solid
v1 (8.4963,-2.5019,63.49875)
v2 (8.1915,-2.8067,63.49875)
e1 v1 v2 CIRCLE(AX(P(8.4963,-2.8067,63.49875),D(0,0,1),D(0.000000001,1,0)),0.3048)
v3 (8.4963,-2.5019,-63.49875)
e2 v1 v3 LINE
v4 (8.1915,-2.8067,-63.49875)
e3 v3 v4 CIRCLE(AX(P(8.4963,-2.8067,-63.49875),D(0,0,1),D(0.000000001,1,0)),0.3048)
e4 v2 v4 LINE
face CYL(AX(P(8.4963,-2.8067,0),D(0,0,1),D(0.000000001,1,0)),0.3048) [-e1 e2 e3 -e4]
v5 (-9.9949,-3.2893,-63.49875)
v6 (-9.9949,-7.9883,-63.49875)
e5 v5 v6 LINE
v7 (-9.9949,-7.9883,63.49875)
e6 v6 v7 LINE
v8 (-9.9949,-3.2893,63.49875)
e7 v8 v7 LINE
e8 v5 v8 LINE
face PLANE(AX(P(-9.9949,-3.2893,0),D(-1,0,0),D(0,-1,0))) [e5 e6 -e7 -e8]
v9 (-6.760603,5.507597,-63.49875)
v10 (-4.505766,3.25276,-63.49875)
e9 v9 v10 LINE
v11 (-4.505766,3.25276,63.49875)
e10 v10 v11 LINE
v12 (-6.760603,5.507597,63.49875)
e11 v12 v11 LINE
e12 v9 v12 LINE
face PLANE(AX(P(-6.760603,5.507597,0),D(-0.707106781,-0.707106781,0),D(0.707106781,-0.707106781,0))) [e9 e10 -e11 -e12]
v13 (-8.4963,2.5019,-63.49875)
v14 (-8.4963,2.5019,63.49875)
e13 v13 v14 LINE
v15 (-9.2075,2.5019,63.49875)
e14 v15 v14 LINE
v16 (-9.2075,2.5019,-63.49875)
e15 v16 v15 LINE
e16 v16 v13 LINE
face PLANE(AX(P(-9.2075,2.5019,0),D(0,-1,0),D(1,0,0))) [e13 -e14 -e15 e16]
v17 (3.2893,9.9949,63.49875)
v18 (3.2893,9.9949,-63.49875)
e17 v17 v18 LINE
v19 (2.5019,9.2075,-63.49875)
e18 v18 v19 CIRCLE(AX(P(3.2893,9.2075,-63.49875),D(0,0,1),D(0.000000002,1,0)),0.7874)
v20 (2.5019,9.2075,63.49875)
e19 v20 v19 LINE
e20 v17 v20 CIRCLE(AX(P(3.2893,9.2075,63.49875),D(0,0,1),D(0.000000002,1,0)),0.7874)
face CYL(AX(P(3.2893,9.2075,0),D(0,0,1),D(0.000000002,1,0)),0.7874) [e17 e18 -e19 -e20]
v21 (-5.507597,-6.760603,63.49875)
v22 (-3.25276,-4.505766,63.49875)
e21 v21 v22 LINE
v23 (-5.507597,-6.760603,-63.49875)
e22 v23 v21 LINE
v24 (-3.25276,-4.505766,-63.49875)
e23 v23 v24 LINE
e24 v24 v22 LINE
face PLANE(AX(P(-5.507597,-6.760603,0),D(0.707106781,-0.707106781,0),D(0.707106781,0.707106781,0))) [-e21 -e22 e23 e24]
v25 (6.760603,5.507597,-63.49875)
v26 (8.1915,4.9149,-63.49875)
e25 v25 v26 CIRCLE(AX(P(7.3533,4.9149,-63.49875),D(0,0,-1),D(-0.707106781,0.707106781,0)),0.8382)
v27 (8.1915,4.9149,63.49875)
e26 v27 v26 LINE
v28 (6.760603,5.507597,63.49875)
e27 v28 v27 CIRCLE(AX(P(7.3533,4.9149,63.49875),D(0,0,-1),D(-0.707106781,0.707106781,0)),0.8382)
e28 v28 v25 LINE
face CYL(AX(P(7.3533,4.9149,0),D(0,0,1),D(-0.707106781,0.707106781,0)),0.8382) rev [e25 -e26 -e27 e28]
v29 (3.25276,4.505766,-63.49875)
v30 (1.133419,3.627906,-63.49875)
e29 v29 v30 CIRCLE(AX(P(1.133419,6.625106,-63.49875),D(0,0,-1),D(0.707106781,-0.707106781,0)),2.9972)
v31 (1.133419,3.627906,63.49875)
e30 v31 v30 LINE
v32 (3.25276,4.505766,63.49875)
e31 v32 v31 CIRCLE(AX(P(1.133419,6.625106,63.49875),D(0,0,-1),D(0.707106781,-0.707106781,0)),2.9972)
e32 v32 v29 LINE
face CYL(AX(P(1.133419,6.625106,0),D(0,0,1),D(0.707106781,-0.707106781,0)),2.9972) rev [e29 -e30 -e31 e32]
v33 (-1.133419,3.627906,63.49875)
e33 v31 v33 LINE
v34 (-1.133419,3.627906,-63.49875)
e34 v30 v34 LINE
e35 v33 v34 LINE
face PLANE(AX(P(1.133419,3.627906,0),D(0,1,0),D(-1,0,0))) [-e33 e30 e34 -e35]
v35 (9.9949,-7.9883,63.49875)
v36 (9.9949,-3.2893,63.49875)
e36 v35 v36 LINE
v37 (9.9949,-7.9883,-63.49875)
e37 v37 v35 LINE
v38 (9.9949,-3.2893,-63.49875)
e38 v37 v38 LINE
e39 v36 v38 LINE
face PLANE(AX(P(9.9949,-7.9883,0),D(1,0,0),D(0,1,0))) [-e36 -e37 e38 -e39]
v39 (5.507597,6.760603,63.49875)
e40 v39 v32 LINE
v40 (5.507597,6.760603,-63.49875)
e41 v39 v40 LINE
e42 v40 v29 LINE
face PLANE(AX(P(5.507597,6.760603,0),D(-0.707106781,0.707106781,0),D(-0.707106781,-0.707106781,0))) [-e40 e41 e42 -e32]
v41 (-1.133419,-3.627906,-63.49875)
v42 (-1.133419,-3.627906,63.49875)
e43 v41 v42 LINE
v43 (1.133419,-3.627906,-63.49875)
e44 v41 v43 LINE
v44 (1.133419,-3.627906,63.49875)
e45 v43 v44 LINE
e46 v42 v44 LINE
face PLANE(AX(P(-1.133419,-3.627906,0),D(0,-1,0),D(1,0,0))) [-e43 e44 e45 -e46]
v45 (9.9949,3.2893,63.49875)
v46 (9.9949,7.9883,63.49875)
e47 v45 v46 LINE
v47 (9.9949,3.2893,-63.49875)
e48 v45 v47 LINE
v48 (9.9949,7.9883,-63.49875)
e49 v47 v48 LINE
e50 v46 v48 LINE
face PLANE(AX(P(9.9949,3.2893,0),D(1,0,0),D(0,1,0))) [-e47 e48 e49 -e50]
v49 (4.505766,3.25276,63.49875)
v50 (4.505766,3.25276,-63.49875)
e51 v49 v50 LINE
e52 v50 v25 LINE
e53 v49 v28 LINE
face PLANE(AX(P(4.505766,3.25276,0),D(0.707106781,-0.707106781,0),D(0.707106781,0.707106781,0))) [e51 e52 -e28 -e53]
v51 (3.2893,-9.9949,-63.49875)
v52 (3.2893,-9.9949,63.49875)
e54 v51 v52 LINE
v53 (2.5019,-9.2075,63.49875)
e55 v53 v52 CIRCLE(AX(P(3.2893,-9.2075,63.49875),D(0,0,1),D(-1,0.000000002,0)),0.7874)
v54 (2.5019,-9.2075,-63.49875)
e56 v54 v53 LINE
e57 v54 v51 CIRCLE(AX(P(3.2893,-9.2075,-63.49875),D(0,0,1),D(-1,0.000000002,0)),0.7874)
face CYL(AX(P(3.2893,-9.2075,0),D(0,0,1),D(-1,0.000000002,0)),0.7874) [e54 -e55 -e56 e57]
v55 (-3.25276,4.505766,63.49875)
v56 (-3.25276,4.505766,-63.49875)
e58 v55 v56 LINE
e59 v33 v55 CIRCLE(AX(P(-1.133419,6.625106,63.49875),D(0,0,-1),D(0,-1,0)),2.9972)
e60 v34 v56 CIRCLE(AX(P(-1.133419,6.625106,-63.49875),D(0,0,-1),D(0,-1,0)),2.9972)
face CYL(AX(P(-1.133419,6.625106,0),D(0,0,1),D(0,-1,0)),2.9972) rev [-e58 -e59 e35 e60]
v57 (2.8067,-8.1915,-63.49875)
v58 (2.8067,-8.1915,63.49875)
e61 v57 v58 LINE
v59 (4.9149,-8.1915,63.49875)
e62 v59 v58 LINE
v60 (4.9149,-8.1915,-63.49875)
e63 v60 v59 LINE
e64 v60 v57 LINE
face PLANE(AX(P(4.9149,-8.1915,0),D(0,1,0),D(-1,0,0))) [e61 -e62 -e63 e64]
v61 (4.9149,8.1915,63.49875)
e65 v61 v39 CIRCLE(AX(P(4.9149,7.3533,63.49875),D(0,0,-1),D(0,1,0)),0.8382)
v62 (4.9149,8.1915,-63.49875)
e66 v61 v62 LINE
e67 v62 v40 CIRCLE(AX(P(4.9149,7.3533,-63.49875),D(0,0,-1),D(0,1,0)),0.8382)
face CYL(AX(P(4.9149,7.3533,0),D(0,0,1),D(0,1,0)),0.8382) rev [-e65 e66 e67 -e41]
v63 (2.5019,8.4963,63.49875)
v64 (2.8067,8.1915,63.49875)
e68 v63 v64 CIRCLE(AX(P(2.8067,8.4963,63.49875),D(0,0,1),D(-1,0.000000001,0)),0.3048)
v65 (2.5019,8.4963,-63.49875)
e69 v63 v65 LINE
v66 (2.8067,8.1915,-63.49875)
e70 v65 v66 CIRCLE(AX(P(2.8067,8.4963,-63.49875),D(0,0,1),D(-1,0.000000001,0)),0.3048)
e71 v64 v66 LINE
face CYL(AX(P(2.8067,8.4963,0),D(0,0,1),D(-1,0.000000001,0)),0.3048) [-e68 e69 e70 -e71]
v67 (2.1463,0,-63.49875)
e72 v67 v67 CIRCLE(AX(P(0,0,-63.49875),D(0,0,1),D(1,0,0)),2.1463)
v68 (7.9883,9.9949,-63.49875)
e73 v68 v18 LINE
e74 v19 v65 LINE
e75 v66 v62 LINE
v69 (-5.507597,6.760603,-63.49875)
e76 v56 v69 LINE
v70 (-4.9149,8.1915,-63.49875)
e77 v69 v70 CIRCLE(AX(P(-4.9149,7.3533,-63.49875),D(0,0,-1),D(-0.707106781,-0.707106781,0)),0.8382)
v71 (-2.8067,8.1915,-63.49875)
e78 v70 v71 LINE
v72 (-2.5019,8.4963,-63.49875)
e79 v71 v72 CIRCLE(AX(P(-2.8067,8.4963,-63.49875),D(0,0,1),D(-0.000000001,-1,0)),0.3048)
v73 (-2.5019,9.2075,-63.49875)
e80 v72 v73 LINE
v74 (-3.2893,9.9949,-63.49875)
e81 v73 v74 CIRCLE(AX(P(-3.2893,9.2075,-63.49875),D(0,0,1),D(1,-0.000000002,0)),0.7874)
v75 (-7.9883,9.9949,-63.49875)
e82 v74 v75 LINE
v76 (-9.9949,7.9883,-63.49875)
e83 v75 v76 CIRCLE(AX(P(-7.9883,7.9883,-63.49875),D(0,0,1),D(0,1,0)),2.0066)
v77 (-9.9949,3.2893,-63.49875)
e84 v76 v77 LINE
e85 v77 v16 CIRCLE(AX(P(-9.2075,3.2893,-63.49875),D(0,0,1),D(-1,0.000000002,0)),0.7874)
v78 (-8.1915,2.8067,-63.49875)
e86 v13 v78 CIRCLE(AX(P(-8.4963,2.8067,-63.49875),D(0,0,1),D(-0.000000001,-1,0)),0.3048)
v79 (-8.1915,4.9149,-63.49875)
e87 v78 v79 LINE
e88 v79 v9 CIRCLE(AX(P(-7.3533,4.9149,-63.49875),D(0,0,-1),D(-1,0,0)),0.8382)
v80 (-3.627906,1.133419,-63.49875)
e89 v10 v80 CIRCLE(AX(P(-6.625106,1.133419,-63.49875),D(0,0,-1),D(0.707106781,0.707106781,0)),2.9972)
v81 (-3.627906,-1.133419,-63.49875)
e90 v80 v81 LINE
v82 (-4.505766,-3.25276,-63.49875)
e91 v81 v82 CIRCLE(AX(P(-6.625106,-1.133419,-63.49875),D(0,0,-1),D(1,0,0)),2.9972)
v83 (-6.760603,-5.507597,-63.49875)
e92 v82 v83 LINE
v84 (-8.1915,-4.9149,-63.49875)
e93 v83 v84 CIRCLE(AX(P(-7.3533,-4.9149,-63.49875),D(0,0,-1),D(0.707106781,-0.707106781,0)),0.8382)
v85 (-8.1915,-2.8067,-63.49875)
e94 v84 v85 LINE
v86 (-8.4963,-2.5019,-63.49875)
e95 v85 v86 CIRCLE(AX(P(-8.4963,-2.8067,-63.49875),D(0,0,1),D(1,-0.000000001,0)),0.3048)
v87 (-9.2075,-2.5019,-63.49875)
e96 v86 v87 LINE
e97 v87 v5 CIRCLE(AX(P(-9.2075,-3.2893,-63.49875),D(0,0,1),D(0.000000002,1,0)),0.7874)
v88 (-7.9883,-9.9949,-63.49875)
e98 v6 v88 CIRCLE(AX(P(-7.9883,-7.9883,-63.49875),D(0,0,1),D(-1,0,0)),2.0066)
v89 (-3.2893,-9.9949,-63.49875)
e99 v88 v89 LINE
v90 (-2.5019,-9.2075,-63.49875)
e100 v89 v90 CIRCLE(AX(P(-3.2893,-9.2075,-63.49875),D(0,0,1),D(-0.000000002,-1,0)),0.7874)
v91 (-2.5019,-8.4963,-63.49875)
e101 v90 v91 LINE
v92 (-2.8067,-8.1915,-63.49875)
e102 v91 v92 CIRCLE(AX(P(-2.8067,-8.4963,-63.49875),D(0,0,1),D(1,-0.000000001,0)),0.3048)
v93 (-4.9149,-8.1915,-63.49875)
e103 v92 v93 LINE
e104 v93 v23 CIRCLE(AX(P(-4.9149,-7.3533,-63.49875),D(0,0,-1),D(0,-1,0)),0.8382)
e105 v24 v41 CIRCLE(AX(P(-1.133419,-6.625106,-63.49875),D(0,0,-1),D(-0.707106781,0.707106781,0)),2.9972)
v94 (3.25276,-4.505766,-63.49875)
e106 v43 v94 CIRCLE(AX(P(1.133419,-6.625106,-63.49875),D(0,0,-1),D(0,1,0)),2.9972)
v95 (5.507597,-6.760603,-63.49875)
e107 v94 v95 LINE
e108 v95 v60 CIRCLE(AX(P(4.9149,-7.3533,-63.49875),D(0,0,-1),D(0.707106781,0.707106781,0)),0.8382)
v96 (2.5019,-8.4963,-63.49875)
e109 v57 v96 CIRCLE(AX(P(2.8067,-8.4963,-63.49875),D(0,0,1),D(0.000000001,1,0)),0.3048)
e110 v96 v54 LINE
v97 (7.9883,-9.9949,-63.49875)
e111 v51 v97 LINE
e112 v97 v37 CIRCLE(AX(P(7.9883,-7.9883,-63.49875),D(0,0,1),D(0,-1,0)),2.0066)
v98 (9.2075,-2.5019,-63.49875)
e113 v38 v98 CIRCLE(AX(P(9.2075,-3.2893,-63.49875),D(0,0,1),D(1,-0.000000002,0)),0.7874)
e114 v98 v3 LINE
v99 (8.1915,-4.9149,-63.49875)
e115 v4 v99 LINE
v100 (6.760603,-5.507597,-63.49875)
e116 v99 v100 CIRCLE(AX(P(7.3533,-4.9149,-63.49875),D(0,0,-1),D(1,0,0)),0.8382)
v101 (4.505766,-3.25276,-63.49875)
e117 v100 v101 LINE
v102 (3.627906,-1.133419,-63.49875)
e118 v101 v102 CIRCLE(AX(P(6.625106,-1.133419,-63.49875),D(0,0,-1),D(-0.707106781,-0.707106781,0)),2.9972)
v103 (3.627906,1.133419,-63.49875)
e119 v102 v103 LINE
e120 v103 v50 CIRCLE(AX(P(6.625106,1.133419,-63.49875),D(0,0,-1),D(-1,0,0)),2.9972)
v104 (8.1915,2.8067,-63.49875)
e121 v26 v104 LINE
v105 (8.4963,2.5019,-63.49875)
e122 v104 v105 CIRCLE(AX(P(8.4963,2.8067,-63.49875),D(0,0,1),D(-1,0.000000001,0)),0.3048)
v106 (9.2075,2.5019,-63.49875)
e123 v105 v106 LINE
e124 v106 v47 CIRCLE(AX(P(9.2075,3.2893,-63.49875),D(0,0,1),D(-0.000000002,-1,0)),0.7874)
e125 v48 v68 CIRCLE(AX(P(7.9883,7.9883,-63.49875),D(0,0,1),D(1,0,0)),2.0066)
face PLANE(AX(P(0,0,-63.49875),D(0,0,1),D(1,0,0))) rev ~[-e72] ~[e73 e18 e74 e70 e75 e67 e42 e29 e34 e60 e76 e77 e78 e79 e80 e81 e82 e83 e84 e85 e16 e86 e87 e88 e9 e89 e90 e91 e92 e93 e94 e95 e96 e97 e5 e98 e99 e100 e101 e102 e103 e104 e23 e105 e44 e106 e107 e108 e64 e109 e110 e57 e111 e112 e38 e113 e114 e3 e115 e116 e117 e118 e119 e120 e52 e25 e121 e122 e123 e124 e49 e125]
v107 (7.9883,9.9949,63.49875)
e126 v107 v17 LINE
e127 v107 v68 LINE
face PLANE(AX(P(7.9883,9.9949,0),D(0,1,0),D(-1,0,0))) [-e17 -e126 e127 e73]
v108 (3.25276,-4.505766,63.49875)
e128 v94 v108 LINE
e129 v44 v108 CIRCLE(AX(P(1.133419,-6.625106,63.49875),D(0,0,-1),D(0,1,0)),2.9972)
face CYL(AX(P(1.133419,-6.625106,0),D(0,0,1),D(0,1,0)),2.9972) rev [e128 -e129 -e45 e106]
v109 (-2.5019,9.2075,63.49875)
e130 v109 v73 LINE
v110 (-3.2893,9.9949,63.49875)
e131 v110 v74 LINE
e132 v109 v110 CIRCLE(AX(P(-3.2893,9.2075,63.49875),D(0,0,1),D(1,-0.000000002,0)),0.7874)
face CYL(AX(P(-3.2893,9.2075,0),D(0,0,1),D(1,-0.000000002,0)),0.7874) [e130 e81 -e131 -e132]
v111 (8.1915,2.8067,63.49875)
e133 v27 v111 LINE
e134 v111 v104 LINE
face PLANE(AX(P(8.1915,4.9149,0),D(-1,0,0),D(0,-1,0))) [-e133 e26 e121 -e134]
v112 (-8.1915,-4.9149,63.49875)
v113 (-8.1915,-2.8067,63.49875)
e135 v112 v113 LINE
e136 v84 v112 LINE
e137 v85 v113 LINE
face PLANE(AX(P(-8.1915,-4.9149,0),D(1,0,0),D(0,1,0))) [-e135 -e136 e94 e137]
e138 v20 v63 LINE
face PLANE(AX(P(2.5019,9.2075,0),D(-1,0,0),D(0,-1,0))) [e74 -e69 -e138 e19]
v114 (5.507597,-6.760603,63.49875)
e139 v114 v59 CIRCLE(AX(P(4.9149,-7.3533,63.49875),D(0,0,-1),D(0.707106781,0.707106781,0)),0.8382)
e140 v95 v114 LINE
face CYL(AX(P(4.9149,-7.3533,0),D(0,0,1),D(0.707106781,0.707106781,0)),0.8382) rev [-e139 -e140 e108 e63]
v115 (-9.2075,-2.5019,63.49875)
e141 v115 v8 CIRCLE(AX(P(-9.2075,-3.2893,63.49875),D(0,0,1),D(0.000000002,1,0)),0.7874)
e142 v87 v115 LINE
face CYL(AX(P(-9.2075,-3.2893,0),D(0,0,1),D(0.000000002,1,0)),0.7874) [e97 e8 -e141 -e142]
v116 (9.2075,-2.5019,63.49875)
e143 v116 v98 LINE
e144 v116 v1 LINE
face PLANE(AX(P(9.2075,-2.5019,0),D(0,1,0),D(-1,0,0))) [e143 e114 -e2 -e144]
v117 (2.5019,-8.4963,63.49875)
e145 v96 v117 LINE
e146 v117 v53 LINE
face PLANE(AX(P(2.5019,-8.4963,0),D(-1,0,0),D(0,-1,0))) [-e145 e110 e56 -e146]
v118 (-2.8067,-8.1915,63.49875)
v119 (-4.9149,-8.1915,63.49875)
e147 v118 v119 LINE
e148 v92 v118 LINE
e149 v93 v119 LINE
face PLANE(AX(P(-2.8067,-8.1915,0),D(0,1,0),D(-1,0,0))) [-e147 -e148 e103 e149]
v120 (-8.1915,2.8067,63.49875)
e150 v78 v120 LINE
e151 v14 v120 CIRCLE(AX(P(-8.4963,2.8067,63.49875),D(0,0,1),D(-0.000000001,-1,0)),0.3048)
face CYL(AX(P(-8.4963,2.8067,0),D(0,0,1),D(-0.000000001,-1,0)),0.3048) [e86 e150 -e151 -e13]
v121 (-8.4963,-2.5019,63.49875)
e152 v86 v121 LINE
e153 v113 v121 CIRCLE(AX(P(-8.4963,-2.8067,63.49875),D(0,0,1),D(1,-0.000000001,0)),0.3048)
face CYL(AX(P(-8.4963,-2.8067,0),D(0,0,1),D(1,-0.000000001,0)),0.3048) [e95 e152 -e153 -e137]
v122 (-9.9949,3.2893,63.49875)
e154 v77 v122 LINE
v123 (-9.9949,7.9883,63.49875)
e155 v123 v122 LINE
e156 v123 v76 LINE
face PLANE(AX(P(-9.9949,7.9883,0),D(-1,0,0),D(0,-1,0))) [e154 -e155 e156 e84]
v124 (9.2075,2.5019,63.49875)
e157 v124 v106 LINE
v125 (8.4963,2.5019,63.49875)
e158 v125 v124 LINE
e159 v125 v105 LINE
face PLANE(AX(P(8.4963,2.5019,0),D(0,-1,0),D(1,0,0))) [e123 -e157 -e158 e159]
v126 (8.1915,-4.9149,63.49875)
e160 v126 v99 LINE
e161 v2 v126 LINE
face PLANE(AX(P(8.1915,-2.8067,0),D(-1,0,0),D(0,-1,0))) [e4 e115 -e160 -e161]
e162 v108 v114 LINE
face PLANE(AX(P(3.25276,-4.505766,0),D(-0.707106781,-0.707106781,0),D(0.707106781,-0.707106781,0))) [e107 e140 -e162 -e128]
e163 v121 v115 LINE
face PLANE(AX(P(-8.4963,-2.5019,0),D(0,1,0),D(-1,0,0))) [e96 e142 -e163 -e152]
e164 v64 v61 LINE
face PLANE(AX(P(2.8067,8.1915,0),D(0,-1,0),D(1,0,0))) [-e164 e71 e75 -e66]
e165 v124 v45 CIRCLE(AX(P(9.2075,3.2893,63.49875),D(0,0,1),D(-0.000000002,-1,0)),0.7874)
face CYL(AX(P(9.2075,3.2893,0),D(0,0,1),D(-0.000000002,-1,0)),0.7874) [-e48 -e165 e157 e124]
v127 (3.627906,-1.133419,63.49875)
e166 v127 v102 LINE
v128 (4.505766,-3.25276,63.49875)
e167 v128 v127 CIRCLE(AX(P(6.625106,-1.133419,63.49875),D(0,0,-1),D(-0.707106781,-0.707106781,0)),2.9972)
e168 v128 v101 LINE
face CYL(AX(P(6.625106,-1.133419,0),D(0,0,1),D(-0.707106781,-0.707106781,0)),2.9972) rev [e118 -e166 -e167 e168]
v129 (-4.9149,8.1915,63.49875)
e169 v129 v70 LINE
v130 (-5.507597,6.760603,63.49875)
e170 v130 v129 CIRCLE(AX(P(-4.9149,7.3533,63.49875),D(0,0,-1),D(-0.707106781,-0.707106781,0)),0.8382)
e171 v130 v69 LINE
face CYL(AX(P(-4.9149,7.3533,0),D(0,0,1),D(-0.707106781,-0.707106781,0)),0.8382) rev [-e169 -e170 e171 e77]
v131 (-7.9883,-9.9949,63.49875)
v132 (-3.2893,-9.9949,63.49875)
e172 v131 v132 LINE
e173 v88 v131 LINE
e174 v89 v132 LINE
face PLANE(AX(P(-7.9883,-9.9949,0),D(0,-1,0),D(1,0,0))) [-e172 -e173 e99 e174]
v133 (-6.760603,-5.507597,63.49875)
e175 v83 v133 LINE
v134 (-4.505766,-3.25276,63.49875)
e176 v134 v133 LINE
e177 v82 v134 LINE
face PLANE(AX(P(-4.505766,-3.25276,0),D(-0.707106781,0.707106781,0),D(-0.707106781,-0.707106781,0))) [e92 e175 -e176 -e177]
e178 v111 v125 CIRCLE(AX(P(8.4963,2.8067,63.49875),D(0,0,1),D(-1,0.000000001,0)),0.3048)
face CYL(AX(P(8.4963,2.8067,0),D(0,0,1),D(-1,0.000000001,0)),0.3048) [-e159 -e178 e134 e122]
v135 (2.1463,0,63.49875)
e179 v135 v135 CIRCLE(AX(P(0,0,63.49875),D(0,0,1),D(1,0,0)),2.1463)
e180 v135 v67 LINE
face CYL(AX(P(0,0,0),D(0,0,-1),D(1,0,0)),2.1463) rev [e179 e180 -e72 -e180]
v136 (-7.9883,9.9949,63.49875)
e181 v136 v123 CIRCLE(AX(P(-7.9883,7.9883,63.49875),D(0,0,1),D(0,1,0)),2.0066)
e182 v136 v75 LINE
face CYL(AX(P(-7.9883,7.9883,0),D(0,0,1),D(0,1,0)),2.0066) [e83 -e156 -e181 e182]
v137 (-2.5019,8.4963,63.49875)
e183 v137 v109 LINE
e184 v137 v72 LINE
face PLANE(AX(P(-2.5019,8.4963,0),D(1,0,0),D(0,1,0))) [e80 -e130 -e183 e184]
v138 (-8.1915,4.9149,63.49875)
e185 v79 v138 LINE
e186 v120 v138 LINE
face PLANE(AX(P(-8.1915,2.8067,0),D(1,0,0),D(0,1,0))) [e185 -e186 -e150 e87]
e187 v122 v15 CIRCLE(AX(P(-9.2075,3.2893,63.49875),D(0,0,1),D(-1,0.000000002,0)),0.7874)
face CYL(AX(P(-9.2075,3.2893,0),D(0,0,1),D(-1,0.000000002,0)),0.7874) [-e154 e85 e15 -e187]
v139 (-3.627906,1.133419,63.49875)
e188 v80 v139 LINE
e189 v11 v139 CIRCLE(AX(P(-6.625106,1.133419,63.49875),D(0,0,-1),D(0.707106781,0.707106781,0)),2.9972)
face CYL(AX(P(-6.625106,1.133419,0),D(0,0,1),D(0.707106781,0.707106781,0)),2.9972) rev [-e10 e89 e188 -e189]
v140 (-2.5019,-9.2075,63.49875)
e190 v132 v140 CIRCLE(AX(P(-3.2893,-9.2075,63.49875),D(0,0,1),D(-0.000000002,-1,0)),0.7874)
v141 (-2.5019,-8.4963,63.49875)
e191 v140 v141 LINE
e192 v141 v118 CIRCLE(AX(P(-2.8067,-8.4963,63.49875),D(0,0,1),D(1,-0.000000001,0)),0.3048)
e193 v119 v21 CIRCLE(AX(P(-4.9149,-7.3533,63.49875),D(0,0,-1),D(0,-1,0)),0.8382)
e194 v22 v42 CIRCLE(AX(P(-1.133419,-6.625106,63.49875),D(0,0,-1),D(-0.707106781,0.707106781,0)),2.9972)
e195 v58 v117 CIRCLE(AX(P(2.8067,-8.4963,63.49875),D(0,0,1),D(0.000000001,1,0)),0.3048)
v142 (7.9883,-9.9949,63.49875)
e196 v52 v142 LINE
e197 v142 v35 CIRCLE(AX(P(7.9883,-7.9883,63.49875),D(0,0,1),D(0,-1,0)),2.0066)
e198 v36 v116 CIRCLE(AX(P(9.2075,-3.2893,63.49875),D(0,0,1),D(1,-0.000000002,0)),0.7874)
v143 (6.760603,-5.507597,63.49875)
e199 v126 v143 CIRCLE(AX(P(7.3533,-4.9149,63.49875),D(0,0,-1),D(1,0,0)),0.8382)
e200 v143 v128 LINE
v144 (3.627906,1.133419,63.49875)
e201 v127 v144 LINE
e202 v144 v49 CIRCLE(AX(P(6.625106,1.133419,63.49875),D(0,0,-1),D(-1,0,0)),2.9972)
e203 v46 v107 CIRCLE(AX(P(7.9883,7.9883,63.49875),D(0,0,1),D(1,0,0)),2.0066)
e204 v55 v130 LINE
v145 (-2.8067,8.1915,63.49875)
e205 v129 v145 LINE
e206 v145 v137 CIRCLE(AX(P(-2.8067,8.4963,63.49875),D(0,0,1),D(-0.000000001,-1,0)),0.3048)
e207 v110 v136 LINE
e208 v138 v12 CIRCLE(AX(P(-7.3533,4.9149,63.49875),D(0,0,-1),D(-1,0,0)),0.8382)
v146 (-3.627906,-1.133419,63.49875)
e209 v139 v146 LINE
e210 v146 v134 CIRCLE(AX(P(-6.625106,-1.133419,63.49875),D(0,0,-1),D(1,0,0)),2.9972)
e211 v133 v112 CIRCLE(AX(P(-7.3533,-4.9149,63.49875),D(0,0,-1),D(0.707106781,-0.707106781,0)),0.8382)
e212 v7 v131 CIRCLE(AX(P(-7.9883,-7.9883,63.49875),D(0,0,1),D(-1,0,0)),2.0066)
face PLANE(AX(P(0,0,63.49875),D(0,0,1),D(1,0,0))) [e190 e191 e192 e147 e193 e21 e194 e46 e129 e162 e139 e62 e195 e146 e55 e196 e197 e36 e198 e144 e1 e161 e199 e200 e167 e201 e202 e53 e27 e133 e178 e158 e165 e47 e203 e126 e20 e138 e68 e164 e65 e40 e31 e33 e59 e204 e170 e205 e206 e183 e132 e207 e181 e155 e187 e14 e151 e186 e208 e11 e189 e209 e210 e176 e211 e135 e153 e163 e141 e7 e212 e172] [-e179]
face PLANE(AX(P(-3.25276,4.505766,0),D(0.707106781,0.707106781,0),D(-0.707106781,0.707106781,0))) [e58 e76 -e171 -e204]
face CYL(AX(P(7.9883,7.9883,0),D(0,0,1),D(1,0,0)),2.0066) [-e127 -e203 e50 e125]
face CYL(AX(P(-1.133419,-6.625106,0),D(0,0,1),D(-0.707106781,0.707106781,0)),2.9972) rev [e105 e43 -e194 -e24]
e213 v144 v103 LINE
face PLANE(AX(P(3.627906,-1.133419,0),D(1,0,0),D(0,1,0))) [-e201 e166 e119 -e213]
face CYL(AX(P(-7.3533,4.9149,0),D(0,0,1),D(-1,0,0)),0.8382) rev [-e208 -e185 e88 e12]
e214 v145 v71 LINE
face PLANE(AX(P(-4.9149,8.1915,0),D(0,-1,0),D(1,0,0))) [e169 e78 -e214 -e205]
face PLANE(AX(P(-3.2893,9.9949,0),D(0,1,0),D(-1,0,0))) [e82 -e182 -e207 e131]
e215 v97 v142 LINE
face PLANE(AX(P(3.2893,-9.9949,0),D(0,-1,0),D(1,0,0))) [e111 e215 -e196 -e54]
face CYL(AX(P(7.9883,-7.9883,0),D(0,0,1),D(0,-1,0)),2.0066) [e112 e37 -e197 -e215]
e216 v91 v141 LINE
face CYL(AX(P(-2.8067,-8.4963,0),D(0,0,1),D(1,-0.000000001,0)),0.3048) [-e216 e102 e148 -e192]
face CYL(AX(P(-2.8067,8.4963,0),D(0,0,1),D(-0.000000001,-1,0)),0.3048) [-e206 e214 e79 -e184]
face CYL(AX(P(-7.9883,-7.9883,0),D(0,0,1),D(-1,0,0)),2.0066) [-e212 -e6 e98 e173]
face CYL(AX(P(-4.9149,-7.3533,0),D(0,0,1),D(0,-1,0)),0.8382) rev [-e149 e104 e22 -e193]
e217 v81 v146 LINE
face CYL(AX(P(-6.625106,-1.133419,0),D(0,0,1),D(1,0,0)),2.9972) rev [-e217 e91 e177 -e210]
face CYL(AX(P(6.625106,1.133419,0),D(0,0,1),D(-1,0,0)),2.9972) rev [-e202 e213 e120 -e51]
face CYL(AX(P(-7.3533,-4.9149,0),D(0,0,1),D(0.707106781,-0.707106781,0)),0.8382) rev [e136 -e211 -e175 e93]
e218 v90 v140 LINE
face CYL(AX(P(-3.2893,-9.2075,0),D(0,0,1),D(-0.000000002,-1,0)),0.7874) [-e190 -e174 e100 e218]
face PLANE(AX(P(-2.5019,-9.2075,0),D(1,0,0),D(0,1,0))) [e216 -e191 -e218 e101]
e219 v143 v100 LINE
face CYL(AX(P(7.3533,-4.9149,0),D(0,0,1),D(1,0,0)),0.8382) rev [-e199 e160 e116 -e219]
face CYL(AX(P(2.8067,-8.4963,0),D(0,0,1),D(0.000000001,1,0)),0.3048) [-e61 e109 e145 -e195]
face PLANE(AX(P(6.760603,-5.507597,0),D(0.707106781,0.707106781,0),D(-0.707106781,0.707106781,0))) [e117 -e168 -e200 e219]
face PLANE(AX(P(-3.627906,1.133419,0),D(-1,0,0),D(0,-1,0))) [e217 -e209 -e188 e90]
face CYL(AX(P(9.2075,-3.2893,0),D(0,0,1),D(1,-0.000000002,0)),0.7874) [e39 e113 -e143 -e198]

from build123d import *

# Parameters (mm, degrees)
SKETCH1_R           = 2.1463
BOSS_EXTRUDE1_DEPTH = 63.49875


with BuildPart() as part:
    # Sketch1 → Boss-Extrude1 (new, symmetric)
    with BuildSketch(Plane.XY):
        with BuildLine():
            Line((-9.9949, 7.9883), (-9.9949, 3.2893))
            ThreePointArc((-9.9949, 3.2893), (-9.76427588, 2.73252412), (-9.2075, 2.5019))
            Line((-9.2075, 2.5019), (-8.4963, 2.5019))
            ThreePointArc((-8.4963, 2.5019), (-8.280773853, 2.591173853), (-8.1915, 2.8067))
            Line((-8.1915, 2.8067), (-8.1915, 4.9149))
            ThreePointArc((-8.1915, 4.9149), (-7.674065253, 5.689295824), (-6.760603096, 5.507596904))
            Line((-6.760603096, 5.507596904), (-4.505765747, 3.252759555))
            ThreePointArc((-4.505765747, 3.252759555), (-3.856054457, 2.280397894), (-3.627906192, 1.133419111))
            Line((-3.627906192, 1.133419111), (-3.627906192, -1.133419111))
            ThreePointArc((-3.627906192, -1.133419111), (-3.856054457, -2.280397894), (-4.505765747, -3.252759555))
            Line((-4.505765747, -3.252759555), (-6.760603096, -5.507596904))
            ThreePointArc((-6.760603096, -5.507596904), (-7.674065253, -5.689295824), (-8.1915, -4.9149))
            Line((-8.1915, -4.9149), (-8.1915, -2.8067))
            ThreePointArc((-8.1915, -2.8067), (-8.280773853, -2.591173853), (-8.4963, -2.5019))
            Line((-8.4963, -2.5019), (-9.2075, -2.5019))
            ThreePointArc((-9.2075, -2.5019), (-9.76427588, -2.73252412), (-9.9949, -3.2893))
            Line((-9.9949, -3.2893), (-9.9949, -7.9883))
            ThreePointArc((-9.9949, -7.9883), (-9.407180467, -9.407180467), (-7.9883, -9.9949))
            Line((-7.9883, -9.9949), (-3.2893, -9.9949))
            ThreePointArc((-3.2893, -9.9949), (-2.73252412, -9.76427588), (-2.5019, -9.2075))
            Line((-2.5019, -9.2075), (-2.5019, -8.4963))
            ThreePointArc((-2.5019, -8.4963), (-2.591173853, -8.280773853), (-2.8067, -8.1915))
            Line((-2.8067, -8.1915), (-4.9149, -8.1915))
            ThreePointArc((-4.9149, -8.1915), (-5.689295824, -7.674065253), (-5.507596904, -6.760603096))
            Line((-5.507596904, -6.760603096), (-3.252759555, -4.505765747))
            ThreePointArc((-3.252759555, -4.505765747), (-2.280397894, -3.856054457), (-1.133419111, -3.627906192))
            Line((-1.133419111, -3.627906192), (1.133419111, -3.627906192))
            ThreePointArc((1.133419111, -3.627906192), (2.280397894, -3.856054457), (3.252759555, -4.505765747))
            Line((3.252759555, -4.505765747), (5.507596904, -6.760603096))
            ThreePointArc((5.507596904, -6.760603096), (5.689295824, -7.674065253), (4.9149, -8.1915))
            Line((4.9149, -8.1915), (2.8067, -8.1915))
            ThreePointArc((2.8067, -8.1915), (2.591173853, -8.280773853), (2.5019, -8.4963))
            Line((2.5019, -8.4963), (2.5019, -9.2075))
            ThreePointArc((2.5019, -9.2075), (2.73252412, -9.76427588), (3.2893, -9.9949))
            Line((3.2893, -9.9949), (7.9883, -9.9949))
            ThreePointArc((7.9883, -9.9949), (9.407180467, -9.407180467), (9.9949, -7.9883))
            Line((9.9949, -7.9883), (9.9949, -3.2893))
            ThreePointArc((9.9949, -3.2893), (9.76427588, -2.73252412), (9.2075, -2.5019))
            Line((9.2075, -2.5019), (8.4963, -2.5019))
            ThreePointArc((8.4963, -2.5019), (8.280773853, -2.591173853), (8.1915, -2.8067))
            Line((8.1915, -2.8067), (8.1915, -4.9149))
            ThreePointArc((8.1915, -4.9149), (7.674065253, -5.689295824), (6.760603096, -5.507596904))
            Line((6.760603096, -5.507596904), (4.505765747, -3.252759555))
            ThreePointArc((4.505765747, -3.252759555), (3.856054457, -2.280397894), (3.627906192, -1.133419111))
            Line((3.627906192, -1.133419111), (3.627906192, 1.133419111))
            ThreePointArc((3.627906192, 1.133419111), (3.856054457, 2.280397894), (4.505765747, 3.252759555))
            Line((4.505765747, 3.252759555), (6.760603096, 5.507596904))
            ThreePointArc((6.760603096, 5.507596904), (7.674065253, 5.689295824), (8.1915, 4.9149))
            Line((8.1915, 4.9149), (8.1915, 2.8067))
            ThreePointArc((8.1915, 2.8067), (8.280773853, 2.591173853), (8.4963, 2.5019))
            Line((8.4963, 2.5019), (9.2075, 2.5019))
            ThreePointArc((9.2075, 2.5019), (9.76427588, 2.73252412), (9.9949, 3.2893))
            Line((9.9949, 3.2893), (9.9949, 7.9883))
            ThreePointArc((9.9949, 7.9883), (9.407180467, 9.407180467), (7.9883, 9.9949))
            Line((7.9883, 9.9949), (3.2893, 9.9949))
            ThreePointArc((3.2893, 9.9949), (2.73252412, 9.76427588), (2.5019, 9.2075))
            Line((2.5019, 9.2075), (2.5019, 8.4963))
            ThreePointArc((2.5019, 8.4963), (2.591173853, 8.280773853), (2.8067, 8.1915))
            Line((2.8067, 8.1915), (4.9149, 8.1915))
            ThreePointArc((4.9149, 8.1915), (5.689295824, 7.674065253), (5.507596904, 6.760603096))
            Line((5.507596904, 6.760603096), (3.252759555, 4.505765747))
            ThreePointArc((3.252759555, 4.505765747), (2.280397894, 3.856054457), (1.133419111, 3.627906192))
            Line((1.133419111, 3.627906192), (-1.133419111, 3.627906192))
            ThreePointArc((-1.133419111, 3.627906192), (-2.280397894, 3.856054457), (-3.252759555, 4.505765747))
            Line((-3.252759555, 4.505765747), (-5.507596904, 6.760603096))
            ThreePointArc((-5.507596904, 6.760603096), (-5.689295824, 7.674065253), (-4.9149, 8.1915))
            Line((-4.9149, 8.1915), (-2.8067, 8.1915))
            ThreePointArc((-2.8067, 8.1915), (-2.591173853, 8.280773853), (-2.5019, 8.4963))
            Line((-2.5019, 8.4963), (-2.5019, 9.2075))
            ThreePointArc((-2.5019, 9.2075), (-2.73252412, 9.76427588), (-3.2893, 9.9949))
            Line((-3.2893, 9.9949), (-7.9883, 9.9949))
            ThreePointArc((-7.9883, 9.9949), (-9.407180467, 9.407180467), (-9.9949, 7.9883))
        make_face()
        Circle(SKETCH1_R, mode=Mode.SUBTRACT)
    extrude(amount=BOSS_EXTRUDE1_DEPTH, both=True)


solid = part.part
